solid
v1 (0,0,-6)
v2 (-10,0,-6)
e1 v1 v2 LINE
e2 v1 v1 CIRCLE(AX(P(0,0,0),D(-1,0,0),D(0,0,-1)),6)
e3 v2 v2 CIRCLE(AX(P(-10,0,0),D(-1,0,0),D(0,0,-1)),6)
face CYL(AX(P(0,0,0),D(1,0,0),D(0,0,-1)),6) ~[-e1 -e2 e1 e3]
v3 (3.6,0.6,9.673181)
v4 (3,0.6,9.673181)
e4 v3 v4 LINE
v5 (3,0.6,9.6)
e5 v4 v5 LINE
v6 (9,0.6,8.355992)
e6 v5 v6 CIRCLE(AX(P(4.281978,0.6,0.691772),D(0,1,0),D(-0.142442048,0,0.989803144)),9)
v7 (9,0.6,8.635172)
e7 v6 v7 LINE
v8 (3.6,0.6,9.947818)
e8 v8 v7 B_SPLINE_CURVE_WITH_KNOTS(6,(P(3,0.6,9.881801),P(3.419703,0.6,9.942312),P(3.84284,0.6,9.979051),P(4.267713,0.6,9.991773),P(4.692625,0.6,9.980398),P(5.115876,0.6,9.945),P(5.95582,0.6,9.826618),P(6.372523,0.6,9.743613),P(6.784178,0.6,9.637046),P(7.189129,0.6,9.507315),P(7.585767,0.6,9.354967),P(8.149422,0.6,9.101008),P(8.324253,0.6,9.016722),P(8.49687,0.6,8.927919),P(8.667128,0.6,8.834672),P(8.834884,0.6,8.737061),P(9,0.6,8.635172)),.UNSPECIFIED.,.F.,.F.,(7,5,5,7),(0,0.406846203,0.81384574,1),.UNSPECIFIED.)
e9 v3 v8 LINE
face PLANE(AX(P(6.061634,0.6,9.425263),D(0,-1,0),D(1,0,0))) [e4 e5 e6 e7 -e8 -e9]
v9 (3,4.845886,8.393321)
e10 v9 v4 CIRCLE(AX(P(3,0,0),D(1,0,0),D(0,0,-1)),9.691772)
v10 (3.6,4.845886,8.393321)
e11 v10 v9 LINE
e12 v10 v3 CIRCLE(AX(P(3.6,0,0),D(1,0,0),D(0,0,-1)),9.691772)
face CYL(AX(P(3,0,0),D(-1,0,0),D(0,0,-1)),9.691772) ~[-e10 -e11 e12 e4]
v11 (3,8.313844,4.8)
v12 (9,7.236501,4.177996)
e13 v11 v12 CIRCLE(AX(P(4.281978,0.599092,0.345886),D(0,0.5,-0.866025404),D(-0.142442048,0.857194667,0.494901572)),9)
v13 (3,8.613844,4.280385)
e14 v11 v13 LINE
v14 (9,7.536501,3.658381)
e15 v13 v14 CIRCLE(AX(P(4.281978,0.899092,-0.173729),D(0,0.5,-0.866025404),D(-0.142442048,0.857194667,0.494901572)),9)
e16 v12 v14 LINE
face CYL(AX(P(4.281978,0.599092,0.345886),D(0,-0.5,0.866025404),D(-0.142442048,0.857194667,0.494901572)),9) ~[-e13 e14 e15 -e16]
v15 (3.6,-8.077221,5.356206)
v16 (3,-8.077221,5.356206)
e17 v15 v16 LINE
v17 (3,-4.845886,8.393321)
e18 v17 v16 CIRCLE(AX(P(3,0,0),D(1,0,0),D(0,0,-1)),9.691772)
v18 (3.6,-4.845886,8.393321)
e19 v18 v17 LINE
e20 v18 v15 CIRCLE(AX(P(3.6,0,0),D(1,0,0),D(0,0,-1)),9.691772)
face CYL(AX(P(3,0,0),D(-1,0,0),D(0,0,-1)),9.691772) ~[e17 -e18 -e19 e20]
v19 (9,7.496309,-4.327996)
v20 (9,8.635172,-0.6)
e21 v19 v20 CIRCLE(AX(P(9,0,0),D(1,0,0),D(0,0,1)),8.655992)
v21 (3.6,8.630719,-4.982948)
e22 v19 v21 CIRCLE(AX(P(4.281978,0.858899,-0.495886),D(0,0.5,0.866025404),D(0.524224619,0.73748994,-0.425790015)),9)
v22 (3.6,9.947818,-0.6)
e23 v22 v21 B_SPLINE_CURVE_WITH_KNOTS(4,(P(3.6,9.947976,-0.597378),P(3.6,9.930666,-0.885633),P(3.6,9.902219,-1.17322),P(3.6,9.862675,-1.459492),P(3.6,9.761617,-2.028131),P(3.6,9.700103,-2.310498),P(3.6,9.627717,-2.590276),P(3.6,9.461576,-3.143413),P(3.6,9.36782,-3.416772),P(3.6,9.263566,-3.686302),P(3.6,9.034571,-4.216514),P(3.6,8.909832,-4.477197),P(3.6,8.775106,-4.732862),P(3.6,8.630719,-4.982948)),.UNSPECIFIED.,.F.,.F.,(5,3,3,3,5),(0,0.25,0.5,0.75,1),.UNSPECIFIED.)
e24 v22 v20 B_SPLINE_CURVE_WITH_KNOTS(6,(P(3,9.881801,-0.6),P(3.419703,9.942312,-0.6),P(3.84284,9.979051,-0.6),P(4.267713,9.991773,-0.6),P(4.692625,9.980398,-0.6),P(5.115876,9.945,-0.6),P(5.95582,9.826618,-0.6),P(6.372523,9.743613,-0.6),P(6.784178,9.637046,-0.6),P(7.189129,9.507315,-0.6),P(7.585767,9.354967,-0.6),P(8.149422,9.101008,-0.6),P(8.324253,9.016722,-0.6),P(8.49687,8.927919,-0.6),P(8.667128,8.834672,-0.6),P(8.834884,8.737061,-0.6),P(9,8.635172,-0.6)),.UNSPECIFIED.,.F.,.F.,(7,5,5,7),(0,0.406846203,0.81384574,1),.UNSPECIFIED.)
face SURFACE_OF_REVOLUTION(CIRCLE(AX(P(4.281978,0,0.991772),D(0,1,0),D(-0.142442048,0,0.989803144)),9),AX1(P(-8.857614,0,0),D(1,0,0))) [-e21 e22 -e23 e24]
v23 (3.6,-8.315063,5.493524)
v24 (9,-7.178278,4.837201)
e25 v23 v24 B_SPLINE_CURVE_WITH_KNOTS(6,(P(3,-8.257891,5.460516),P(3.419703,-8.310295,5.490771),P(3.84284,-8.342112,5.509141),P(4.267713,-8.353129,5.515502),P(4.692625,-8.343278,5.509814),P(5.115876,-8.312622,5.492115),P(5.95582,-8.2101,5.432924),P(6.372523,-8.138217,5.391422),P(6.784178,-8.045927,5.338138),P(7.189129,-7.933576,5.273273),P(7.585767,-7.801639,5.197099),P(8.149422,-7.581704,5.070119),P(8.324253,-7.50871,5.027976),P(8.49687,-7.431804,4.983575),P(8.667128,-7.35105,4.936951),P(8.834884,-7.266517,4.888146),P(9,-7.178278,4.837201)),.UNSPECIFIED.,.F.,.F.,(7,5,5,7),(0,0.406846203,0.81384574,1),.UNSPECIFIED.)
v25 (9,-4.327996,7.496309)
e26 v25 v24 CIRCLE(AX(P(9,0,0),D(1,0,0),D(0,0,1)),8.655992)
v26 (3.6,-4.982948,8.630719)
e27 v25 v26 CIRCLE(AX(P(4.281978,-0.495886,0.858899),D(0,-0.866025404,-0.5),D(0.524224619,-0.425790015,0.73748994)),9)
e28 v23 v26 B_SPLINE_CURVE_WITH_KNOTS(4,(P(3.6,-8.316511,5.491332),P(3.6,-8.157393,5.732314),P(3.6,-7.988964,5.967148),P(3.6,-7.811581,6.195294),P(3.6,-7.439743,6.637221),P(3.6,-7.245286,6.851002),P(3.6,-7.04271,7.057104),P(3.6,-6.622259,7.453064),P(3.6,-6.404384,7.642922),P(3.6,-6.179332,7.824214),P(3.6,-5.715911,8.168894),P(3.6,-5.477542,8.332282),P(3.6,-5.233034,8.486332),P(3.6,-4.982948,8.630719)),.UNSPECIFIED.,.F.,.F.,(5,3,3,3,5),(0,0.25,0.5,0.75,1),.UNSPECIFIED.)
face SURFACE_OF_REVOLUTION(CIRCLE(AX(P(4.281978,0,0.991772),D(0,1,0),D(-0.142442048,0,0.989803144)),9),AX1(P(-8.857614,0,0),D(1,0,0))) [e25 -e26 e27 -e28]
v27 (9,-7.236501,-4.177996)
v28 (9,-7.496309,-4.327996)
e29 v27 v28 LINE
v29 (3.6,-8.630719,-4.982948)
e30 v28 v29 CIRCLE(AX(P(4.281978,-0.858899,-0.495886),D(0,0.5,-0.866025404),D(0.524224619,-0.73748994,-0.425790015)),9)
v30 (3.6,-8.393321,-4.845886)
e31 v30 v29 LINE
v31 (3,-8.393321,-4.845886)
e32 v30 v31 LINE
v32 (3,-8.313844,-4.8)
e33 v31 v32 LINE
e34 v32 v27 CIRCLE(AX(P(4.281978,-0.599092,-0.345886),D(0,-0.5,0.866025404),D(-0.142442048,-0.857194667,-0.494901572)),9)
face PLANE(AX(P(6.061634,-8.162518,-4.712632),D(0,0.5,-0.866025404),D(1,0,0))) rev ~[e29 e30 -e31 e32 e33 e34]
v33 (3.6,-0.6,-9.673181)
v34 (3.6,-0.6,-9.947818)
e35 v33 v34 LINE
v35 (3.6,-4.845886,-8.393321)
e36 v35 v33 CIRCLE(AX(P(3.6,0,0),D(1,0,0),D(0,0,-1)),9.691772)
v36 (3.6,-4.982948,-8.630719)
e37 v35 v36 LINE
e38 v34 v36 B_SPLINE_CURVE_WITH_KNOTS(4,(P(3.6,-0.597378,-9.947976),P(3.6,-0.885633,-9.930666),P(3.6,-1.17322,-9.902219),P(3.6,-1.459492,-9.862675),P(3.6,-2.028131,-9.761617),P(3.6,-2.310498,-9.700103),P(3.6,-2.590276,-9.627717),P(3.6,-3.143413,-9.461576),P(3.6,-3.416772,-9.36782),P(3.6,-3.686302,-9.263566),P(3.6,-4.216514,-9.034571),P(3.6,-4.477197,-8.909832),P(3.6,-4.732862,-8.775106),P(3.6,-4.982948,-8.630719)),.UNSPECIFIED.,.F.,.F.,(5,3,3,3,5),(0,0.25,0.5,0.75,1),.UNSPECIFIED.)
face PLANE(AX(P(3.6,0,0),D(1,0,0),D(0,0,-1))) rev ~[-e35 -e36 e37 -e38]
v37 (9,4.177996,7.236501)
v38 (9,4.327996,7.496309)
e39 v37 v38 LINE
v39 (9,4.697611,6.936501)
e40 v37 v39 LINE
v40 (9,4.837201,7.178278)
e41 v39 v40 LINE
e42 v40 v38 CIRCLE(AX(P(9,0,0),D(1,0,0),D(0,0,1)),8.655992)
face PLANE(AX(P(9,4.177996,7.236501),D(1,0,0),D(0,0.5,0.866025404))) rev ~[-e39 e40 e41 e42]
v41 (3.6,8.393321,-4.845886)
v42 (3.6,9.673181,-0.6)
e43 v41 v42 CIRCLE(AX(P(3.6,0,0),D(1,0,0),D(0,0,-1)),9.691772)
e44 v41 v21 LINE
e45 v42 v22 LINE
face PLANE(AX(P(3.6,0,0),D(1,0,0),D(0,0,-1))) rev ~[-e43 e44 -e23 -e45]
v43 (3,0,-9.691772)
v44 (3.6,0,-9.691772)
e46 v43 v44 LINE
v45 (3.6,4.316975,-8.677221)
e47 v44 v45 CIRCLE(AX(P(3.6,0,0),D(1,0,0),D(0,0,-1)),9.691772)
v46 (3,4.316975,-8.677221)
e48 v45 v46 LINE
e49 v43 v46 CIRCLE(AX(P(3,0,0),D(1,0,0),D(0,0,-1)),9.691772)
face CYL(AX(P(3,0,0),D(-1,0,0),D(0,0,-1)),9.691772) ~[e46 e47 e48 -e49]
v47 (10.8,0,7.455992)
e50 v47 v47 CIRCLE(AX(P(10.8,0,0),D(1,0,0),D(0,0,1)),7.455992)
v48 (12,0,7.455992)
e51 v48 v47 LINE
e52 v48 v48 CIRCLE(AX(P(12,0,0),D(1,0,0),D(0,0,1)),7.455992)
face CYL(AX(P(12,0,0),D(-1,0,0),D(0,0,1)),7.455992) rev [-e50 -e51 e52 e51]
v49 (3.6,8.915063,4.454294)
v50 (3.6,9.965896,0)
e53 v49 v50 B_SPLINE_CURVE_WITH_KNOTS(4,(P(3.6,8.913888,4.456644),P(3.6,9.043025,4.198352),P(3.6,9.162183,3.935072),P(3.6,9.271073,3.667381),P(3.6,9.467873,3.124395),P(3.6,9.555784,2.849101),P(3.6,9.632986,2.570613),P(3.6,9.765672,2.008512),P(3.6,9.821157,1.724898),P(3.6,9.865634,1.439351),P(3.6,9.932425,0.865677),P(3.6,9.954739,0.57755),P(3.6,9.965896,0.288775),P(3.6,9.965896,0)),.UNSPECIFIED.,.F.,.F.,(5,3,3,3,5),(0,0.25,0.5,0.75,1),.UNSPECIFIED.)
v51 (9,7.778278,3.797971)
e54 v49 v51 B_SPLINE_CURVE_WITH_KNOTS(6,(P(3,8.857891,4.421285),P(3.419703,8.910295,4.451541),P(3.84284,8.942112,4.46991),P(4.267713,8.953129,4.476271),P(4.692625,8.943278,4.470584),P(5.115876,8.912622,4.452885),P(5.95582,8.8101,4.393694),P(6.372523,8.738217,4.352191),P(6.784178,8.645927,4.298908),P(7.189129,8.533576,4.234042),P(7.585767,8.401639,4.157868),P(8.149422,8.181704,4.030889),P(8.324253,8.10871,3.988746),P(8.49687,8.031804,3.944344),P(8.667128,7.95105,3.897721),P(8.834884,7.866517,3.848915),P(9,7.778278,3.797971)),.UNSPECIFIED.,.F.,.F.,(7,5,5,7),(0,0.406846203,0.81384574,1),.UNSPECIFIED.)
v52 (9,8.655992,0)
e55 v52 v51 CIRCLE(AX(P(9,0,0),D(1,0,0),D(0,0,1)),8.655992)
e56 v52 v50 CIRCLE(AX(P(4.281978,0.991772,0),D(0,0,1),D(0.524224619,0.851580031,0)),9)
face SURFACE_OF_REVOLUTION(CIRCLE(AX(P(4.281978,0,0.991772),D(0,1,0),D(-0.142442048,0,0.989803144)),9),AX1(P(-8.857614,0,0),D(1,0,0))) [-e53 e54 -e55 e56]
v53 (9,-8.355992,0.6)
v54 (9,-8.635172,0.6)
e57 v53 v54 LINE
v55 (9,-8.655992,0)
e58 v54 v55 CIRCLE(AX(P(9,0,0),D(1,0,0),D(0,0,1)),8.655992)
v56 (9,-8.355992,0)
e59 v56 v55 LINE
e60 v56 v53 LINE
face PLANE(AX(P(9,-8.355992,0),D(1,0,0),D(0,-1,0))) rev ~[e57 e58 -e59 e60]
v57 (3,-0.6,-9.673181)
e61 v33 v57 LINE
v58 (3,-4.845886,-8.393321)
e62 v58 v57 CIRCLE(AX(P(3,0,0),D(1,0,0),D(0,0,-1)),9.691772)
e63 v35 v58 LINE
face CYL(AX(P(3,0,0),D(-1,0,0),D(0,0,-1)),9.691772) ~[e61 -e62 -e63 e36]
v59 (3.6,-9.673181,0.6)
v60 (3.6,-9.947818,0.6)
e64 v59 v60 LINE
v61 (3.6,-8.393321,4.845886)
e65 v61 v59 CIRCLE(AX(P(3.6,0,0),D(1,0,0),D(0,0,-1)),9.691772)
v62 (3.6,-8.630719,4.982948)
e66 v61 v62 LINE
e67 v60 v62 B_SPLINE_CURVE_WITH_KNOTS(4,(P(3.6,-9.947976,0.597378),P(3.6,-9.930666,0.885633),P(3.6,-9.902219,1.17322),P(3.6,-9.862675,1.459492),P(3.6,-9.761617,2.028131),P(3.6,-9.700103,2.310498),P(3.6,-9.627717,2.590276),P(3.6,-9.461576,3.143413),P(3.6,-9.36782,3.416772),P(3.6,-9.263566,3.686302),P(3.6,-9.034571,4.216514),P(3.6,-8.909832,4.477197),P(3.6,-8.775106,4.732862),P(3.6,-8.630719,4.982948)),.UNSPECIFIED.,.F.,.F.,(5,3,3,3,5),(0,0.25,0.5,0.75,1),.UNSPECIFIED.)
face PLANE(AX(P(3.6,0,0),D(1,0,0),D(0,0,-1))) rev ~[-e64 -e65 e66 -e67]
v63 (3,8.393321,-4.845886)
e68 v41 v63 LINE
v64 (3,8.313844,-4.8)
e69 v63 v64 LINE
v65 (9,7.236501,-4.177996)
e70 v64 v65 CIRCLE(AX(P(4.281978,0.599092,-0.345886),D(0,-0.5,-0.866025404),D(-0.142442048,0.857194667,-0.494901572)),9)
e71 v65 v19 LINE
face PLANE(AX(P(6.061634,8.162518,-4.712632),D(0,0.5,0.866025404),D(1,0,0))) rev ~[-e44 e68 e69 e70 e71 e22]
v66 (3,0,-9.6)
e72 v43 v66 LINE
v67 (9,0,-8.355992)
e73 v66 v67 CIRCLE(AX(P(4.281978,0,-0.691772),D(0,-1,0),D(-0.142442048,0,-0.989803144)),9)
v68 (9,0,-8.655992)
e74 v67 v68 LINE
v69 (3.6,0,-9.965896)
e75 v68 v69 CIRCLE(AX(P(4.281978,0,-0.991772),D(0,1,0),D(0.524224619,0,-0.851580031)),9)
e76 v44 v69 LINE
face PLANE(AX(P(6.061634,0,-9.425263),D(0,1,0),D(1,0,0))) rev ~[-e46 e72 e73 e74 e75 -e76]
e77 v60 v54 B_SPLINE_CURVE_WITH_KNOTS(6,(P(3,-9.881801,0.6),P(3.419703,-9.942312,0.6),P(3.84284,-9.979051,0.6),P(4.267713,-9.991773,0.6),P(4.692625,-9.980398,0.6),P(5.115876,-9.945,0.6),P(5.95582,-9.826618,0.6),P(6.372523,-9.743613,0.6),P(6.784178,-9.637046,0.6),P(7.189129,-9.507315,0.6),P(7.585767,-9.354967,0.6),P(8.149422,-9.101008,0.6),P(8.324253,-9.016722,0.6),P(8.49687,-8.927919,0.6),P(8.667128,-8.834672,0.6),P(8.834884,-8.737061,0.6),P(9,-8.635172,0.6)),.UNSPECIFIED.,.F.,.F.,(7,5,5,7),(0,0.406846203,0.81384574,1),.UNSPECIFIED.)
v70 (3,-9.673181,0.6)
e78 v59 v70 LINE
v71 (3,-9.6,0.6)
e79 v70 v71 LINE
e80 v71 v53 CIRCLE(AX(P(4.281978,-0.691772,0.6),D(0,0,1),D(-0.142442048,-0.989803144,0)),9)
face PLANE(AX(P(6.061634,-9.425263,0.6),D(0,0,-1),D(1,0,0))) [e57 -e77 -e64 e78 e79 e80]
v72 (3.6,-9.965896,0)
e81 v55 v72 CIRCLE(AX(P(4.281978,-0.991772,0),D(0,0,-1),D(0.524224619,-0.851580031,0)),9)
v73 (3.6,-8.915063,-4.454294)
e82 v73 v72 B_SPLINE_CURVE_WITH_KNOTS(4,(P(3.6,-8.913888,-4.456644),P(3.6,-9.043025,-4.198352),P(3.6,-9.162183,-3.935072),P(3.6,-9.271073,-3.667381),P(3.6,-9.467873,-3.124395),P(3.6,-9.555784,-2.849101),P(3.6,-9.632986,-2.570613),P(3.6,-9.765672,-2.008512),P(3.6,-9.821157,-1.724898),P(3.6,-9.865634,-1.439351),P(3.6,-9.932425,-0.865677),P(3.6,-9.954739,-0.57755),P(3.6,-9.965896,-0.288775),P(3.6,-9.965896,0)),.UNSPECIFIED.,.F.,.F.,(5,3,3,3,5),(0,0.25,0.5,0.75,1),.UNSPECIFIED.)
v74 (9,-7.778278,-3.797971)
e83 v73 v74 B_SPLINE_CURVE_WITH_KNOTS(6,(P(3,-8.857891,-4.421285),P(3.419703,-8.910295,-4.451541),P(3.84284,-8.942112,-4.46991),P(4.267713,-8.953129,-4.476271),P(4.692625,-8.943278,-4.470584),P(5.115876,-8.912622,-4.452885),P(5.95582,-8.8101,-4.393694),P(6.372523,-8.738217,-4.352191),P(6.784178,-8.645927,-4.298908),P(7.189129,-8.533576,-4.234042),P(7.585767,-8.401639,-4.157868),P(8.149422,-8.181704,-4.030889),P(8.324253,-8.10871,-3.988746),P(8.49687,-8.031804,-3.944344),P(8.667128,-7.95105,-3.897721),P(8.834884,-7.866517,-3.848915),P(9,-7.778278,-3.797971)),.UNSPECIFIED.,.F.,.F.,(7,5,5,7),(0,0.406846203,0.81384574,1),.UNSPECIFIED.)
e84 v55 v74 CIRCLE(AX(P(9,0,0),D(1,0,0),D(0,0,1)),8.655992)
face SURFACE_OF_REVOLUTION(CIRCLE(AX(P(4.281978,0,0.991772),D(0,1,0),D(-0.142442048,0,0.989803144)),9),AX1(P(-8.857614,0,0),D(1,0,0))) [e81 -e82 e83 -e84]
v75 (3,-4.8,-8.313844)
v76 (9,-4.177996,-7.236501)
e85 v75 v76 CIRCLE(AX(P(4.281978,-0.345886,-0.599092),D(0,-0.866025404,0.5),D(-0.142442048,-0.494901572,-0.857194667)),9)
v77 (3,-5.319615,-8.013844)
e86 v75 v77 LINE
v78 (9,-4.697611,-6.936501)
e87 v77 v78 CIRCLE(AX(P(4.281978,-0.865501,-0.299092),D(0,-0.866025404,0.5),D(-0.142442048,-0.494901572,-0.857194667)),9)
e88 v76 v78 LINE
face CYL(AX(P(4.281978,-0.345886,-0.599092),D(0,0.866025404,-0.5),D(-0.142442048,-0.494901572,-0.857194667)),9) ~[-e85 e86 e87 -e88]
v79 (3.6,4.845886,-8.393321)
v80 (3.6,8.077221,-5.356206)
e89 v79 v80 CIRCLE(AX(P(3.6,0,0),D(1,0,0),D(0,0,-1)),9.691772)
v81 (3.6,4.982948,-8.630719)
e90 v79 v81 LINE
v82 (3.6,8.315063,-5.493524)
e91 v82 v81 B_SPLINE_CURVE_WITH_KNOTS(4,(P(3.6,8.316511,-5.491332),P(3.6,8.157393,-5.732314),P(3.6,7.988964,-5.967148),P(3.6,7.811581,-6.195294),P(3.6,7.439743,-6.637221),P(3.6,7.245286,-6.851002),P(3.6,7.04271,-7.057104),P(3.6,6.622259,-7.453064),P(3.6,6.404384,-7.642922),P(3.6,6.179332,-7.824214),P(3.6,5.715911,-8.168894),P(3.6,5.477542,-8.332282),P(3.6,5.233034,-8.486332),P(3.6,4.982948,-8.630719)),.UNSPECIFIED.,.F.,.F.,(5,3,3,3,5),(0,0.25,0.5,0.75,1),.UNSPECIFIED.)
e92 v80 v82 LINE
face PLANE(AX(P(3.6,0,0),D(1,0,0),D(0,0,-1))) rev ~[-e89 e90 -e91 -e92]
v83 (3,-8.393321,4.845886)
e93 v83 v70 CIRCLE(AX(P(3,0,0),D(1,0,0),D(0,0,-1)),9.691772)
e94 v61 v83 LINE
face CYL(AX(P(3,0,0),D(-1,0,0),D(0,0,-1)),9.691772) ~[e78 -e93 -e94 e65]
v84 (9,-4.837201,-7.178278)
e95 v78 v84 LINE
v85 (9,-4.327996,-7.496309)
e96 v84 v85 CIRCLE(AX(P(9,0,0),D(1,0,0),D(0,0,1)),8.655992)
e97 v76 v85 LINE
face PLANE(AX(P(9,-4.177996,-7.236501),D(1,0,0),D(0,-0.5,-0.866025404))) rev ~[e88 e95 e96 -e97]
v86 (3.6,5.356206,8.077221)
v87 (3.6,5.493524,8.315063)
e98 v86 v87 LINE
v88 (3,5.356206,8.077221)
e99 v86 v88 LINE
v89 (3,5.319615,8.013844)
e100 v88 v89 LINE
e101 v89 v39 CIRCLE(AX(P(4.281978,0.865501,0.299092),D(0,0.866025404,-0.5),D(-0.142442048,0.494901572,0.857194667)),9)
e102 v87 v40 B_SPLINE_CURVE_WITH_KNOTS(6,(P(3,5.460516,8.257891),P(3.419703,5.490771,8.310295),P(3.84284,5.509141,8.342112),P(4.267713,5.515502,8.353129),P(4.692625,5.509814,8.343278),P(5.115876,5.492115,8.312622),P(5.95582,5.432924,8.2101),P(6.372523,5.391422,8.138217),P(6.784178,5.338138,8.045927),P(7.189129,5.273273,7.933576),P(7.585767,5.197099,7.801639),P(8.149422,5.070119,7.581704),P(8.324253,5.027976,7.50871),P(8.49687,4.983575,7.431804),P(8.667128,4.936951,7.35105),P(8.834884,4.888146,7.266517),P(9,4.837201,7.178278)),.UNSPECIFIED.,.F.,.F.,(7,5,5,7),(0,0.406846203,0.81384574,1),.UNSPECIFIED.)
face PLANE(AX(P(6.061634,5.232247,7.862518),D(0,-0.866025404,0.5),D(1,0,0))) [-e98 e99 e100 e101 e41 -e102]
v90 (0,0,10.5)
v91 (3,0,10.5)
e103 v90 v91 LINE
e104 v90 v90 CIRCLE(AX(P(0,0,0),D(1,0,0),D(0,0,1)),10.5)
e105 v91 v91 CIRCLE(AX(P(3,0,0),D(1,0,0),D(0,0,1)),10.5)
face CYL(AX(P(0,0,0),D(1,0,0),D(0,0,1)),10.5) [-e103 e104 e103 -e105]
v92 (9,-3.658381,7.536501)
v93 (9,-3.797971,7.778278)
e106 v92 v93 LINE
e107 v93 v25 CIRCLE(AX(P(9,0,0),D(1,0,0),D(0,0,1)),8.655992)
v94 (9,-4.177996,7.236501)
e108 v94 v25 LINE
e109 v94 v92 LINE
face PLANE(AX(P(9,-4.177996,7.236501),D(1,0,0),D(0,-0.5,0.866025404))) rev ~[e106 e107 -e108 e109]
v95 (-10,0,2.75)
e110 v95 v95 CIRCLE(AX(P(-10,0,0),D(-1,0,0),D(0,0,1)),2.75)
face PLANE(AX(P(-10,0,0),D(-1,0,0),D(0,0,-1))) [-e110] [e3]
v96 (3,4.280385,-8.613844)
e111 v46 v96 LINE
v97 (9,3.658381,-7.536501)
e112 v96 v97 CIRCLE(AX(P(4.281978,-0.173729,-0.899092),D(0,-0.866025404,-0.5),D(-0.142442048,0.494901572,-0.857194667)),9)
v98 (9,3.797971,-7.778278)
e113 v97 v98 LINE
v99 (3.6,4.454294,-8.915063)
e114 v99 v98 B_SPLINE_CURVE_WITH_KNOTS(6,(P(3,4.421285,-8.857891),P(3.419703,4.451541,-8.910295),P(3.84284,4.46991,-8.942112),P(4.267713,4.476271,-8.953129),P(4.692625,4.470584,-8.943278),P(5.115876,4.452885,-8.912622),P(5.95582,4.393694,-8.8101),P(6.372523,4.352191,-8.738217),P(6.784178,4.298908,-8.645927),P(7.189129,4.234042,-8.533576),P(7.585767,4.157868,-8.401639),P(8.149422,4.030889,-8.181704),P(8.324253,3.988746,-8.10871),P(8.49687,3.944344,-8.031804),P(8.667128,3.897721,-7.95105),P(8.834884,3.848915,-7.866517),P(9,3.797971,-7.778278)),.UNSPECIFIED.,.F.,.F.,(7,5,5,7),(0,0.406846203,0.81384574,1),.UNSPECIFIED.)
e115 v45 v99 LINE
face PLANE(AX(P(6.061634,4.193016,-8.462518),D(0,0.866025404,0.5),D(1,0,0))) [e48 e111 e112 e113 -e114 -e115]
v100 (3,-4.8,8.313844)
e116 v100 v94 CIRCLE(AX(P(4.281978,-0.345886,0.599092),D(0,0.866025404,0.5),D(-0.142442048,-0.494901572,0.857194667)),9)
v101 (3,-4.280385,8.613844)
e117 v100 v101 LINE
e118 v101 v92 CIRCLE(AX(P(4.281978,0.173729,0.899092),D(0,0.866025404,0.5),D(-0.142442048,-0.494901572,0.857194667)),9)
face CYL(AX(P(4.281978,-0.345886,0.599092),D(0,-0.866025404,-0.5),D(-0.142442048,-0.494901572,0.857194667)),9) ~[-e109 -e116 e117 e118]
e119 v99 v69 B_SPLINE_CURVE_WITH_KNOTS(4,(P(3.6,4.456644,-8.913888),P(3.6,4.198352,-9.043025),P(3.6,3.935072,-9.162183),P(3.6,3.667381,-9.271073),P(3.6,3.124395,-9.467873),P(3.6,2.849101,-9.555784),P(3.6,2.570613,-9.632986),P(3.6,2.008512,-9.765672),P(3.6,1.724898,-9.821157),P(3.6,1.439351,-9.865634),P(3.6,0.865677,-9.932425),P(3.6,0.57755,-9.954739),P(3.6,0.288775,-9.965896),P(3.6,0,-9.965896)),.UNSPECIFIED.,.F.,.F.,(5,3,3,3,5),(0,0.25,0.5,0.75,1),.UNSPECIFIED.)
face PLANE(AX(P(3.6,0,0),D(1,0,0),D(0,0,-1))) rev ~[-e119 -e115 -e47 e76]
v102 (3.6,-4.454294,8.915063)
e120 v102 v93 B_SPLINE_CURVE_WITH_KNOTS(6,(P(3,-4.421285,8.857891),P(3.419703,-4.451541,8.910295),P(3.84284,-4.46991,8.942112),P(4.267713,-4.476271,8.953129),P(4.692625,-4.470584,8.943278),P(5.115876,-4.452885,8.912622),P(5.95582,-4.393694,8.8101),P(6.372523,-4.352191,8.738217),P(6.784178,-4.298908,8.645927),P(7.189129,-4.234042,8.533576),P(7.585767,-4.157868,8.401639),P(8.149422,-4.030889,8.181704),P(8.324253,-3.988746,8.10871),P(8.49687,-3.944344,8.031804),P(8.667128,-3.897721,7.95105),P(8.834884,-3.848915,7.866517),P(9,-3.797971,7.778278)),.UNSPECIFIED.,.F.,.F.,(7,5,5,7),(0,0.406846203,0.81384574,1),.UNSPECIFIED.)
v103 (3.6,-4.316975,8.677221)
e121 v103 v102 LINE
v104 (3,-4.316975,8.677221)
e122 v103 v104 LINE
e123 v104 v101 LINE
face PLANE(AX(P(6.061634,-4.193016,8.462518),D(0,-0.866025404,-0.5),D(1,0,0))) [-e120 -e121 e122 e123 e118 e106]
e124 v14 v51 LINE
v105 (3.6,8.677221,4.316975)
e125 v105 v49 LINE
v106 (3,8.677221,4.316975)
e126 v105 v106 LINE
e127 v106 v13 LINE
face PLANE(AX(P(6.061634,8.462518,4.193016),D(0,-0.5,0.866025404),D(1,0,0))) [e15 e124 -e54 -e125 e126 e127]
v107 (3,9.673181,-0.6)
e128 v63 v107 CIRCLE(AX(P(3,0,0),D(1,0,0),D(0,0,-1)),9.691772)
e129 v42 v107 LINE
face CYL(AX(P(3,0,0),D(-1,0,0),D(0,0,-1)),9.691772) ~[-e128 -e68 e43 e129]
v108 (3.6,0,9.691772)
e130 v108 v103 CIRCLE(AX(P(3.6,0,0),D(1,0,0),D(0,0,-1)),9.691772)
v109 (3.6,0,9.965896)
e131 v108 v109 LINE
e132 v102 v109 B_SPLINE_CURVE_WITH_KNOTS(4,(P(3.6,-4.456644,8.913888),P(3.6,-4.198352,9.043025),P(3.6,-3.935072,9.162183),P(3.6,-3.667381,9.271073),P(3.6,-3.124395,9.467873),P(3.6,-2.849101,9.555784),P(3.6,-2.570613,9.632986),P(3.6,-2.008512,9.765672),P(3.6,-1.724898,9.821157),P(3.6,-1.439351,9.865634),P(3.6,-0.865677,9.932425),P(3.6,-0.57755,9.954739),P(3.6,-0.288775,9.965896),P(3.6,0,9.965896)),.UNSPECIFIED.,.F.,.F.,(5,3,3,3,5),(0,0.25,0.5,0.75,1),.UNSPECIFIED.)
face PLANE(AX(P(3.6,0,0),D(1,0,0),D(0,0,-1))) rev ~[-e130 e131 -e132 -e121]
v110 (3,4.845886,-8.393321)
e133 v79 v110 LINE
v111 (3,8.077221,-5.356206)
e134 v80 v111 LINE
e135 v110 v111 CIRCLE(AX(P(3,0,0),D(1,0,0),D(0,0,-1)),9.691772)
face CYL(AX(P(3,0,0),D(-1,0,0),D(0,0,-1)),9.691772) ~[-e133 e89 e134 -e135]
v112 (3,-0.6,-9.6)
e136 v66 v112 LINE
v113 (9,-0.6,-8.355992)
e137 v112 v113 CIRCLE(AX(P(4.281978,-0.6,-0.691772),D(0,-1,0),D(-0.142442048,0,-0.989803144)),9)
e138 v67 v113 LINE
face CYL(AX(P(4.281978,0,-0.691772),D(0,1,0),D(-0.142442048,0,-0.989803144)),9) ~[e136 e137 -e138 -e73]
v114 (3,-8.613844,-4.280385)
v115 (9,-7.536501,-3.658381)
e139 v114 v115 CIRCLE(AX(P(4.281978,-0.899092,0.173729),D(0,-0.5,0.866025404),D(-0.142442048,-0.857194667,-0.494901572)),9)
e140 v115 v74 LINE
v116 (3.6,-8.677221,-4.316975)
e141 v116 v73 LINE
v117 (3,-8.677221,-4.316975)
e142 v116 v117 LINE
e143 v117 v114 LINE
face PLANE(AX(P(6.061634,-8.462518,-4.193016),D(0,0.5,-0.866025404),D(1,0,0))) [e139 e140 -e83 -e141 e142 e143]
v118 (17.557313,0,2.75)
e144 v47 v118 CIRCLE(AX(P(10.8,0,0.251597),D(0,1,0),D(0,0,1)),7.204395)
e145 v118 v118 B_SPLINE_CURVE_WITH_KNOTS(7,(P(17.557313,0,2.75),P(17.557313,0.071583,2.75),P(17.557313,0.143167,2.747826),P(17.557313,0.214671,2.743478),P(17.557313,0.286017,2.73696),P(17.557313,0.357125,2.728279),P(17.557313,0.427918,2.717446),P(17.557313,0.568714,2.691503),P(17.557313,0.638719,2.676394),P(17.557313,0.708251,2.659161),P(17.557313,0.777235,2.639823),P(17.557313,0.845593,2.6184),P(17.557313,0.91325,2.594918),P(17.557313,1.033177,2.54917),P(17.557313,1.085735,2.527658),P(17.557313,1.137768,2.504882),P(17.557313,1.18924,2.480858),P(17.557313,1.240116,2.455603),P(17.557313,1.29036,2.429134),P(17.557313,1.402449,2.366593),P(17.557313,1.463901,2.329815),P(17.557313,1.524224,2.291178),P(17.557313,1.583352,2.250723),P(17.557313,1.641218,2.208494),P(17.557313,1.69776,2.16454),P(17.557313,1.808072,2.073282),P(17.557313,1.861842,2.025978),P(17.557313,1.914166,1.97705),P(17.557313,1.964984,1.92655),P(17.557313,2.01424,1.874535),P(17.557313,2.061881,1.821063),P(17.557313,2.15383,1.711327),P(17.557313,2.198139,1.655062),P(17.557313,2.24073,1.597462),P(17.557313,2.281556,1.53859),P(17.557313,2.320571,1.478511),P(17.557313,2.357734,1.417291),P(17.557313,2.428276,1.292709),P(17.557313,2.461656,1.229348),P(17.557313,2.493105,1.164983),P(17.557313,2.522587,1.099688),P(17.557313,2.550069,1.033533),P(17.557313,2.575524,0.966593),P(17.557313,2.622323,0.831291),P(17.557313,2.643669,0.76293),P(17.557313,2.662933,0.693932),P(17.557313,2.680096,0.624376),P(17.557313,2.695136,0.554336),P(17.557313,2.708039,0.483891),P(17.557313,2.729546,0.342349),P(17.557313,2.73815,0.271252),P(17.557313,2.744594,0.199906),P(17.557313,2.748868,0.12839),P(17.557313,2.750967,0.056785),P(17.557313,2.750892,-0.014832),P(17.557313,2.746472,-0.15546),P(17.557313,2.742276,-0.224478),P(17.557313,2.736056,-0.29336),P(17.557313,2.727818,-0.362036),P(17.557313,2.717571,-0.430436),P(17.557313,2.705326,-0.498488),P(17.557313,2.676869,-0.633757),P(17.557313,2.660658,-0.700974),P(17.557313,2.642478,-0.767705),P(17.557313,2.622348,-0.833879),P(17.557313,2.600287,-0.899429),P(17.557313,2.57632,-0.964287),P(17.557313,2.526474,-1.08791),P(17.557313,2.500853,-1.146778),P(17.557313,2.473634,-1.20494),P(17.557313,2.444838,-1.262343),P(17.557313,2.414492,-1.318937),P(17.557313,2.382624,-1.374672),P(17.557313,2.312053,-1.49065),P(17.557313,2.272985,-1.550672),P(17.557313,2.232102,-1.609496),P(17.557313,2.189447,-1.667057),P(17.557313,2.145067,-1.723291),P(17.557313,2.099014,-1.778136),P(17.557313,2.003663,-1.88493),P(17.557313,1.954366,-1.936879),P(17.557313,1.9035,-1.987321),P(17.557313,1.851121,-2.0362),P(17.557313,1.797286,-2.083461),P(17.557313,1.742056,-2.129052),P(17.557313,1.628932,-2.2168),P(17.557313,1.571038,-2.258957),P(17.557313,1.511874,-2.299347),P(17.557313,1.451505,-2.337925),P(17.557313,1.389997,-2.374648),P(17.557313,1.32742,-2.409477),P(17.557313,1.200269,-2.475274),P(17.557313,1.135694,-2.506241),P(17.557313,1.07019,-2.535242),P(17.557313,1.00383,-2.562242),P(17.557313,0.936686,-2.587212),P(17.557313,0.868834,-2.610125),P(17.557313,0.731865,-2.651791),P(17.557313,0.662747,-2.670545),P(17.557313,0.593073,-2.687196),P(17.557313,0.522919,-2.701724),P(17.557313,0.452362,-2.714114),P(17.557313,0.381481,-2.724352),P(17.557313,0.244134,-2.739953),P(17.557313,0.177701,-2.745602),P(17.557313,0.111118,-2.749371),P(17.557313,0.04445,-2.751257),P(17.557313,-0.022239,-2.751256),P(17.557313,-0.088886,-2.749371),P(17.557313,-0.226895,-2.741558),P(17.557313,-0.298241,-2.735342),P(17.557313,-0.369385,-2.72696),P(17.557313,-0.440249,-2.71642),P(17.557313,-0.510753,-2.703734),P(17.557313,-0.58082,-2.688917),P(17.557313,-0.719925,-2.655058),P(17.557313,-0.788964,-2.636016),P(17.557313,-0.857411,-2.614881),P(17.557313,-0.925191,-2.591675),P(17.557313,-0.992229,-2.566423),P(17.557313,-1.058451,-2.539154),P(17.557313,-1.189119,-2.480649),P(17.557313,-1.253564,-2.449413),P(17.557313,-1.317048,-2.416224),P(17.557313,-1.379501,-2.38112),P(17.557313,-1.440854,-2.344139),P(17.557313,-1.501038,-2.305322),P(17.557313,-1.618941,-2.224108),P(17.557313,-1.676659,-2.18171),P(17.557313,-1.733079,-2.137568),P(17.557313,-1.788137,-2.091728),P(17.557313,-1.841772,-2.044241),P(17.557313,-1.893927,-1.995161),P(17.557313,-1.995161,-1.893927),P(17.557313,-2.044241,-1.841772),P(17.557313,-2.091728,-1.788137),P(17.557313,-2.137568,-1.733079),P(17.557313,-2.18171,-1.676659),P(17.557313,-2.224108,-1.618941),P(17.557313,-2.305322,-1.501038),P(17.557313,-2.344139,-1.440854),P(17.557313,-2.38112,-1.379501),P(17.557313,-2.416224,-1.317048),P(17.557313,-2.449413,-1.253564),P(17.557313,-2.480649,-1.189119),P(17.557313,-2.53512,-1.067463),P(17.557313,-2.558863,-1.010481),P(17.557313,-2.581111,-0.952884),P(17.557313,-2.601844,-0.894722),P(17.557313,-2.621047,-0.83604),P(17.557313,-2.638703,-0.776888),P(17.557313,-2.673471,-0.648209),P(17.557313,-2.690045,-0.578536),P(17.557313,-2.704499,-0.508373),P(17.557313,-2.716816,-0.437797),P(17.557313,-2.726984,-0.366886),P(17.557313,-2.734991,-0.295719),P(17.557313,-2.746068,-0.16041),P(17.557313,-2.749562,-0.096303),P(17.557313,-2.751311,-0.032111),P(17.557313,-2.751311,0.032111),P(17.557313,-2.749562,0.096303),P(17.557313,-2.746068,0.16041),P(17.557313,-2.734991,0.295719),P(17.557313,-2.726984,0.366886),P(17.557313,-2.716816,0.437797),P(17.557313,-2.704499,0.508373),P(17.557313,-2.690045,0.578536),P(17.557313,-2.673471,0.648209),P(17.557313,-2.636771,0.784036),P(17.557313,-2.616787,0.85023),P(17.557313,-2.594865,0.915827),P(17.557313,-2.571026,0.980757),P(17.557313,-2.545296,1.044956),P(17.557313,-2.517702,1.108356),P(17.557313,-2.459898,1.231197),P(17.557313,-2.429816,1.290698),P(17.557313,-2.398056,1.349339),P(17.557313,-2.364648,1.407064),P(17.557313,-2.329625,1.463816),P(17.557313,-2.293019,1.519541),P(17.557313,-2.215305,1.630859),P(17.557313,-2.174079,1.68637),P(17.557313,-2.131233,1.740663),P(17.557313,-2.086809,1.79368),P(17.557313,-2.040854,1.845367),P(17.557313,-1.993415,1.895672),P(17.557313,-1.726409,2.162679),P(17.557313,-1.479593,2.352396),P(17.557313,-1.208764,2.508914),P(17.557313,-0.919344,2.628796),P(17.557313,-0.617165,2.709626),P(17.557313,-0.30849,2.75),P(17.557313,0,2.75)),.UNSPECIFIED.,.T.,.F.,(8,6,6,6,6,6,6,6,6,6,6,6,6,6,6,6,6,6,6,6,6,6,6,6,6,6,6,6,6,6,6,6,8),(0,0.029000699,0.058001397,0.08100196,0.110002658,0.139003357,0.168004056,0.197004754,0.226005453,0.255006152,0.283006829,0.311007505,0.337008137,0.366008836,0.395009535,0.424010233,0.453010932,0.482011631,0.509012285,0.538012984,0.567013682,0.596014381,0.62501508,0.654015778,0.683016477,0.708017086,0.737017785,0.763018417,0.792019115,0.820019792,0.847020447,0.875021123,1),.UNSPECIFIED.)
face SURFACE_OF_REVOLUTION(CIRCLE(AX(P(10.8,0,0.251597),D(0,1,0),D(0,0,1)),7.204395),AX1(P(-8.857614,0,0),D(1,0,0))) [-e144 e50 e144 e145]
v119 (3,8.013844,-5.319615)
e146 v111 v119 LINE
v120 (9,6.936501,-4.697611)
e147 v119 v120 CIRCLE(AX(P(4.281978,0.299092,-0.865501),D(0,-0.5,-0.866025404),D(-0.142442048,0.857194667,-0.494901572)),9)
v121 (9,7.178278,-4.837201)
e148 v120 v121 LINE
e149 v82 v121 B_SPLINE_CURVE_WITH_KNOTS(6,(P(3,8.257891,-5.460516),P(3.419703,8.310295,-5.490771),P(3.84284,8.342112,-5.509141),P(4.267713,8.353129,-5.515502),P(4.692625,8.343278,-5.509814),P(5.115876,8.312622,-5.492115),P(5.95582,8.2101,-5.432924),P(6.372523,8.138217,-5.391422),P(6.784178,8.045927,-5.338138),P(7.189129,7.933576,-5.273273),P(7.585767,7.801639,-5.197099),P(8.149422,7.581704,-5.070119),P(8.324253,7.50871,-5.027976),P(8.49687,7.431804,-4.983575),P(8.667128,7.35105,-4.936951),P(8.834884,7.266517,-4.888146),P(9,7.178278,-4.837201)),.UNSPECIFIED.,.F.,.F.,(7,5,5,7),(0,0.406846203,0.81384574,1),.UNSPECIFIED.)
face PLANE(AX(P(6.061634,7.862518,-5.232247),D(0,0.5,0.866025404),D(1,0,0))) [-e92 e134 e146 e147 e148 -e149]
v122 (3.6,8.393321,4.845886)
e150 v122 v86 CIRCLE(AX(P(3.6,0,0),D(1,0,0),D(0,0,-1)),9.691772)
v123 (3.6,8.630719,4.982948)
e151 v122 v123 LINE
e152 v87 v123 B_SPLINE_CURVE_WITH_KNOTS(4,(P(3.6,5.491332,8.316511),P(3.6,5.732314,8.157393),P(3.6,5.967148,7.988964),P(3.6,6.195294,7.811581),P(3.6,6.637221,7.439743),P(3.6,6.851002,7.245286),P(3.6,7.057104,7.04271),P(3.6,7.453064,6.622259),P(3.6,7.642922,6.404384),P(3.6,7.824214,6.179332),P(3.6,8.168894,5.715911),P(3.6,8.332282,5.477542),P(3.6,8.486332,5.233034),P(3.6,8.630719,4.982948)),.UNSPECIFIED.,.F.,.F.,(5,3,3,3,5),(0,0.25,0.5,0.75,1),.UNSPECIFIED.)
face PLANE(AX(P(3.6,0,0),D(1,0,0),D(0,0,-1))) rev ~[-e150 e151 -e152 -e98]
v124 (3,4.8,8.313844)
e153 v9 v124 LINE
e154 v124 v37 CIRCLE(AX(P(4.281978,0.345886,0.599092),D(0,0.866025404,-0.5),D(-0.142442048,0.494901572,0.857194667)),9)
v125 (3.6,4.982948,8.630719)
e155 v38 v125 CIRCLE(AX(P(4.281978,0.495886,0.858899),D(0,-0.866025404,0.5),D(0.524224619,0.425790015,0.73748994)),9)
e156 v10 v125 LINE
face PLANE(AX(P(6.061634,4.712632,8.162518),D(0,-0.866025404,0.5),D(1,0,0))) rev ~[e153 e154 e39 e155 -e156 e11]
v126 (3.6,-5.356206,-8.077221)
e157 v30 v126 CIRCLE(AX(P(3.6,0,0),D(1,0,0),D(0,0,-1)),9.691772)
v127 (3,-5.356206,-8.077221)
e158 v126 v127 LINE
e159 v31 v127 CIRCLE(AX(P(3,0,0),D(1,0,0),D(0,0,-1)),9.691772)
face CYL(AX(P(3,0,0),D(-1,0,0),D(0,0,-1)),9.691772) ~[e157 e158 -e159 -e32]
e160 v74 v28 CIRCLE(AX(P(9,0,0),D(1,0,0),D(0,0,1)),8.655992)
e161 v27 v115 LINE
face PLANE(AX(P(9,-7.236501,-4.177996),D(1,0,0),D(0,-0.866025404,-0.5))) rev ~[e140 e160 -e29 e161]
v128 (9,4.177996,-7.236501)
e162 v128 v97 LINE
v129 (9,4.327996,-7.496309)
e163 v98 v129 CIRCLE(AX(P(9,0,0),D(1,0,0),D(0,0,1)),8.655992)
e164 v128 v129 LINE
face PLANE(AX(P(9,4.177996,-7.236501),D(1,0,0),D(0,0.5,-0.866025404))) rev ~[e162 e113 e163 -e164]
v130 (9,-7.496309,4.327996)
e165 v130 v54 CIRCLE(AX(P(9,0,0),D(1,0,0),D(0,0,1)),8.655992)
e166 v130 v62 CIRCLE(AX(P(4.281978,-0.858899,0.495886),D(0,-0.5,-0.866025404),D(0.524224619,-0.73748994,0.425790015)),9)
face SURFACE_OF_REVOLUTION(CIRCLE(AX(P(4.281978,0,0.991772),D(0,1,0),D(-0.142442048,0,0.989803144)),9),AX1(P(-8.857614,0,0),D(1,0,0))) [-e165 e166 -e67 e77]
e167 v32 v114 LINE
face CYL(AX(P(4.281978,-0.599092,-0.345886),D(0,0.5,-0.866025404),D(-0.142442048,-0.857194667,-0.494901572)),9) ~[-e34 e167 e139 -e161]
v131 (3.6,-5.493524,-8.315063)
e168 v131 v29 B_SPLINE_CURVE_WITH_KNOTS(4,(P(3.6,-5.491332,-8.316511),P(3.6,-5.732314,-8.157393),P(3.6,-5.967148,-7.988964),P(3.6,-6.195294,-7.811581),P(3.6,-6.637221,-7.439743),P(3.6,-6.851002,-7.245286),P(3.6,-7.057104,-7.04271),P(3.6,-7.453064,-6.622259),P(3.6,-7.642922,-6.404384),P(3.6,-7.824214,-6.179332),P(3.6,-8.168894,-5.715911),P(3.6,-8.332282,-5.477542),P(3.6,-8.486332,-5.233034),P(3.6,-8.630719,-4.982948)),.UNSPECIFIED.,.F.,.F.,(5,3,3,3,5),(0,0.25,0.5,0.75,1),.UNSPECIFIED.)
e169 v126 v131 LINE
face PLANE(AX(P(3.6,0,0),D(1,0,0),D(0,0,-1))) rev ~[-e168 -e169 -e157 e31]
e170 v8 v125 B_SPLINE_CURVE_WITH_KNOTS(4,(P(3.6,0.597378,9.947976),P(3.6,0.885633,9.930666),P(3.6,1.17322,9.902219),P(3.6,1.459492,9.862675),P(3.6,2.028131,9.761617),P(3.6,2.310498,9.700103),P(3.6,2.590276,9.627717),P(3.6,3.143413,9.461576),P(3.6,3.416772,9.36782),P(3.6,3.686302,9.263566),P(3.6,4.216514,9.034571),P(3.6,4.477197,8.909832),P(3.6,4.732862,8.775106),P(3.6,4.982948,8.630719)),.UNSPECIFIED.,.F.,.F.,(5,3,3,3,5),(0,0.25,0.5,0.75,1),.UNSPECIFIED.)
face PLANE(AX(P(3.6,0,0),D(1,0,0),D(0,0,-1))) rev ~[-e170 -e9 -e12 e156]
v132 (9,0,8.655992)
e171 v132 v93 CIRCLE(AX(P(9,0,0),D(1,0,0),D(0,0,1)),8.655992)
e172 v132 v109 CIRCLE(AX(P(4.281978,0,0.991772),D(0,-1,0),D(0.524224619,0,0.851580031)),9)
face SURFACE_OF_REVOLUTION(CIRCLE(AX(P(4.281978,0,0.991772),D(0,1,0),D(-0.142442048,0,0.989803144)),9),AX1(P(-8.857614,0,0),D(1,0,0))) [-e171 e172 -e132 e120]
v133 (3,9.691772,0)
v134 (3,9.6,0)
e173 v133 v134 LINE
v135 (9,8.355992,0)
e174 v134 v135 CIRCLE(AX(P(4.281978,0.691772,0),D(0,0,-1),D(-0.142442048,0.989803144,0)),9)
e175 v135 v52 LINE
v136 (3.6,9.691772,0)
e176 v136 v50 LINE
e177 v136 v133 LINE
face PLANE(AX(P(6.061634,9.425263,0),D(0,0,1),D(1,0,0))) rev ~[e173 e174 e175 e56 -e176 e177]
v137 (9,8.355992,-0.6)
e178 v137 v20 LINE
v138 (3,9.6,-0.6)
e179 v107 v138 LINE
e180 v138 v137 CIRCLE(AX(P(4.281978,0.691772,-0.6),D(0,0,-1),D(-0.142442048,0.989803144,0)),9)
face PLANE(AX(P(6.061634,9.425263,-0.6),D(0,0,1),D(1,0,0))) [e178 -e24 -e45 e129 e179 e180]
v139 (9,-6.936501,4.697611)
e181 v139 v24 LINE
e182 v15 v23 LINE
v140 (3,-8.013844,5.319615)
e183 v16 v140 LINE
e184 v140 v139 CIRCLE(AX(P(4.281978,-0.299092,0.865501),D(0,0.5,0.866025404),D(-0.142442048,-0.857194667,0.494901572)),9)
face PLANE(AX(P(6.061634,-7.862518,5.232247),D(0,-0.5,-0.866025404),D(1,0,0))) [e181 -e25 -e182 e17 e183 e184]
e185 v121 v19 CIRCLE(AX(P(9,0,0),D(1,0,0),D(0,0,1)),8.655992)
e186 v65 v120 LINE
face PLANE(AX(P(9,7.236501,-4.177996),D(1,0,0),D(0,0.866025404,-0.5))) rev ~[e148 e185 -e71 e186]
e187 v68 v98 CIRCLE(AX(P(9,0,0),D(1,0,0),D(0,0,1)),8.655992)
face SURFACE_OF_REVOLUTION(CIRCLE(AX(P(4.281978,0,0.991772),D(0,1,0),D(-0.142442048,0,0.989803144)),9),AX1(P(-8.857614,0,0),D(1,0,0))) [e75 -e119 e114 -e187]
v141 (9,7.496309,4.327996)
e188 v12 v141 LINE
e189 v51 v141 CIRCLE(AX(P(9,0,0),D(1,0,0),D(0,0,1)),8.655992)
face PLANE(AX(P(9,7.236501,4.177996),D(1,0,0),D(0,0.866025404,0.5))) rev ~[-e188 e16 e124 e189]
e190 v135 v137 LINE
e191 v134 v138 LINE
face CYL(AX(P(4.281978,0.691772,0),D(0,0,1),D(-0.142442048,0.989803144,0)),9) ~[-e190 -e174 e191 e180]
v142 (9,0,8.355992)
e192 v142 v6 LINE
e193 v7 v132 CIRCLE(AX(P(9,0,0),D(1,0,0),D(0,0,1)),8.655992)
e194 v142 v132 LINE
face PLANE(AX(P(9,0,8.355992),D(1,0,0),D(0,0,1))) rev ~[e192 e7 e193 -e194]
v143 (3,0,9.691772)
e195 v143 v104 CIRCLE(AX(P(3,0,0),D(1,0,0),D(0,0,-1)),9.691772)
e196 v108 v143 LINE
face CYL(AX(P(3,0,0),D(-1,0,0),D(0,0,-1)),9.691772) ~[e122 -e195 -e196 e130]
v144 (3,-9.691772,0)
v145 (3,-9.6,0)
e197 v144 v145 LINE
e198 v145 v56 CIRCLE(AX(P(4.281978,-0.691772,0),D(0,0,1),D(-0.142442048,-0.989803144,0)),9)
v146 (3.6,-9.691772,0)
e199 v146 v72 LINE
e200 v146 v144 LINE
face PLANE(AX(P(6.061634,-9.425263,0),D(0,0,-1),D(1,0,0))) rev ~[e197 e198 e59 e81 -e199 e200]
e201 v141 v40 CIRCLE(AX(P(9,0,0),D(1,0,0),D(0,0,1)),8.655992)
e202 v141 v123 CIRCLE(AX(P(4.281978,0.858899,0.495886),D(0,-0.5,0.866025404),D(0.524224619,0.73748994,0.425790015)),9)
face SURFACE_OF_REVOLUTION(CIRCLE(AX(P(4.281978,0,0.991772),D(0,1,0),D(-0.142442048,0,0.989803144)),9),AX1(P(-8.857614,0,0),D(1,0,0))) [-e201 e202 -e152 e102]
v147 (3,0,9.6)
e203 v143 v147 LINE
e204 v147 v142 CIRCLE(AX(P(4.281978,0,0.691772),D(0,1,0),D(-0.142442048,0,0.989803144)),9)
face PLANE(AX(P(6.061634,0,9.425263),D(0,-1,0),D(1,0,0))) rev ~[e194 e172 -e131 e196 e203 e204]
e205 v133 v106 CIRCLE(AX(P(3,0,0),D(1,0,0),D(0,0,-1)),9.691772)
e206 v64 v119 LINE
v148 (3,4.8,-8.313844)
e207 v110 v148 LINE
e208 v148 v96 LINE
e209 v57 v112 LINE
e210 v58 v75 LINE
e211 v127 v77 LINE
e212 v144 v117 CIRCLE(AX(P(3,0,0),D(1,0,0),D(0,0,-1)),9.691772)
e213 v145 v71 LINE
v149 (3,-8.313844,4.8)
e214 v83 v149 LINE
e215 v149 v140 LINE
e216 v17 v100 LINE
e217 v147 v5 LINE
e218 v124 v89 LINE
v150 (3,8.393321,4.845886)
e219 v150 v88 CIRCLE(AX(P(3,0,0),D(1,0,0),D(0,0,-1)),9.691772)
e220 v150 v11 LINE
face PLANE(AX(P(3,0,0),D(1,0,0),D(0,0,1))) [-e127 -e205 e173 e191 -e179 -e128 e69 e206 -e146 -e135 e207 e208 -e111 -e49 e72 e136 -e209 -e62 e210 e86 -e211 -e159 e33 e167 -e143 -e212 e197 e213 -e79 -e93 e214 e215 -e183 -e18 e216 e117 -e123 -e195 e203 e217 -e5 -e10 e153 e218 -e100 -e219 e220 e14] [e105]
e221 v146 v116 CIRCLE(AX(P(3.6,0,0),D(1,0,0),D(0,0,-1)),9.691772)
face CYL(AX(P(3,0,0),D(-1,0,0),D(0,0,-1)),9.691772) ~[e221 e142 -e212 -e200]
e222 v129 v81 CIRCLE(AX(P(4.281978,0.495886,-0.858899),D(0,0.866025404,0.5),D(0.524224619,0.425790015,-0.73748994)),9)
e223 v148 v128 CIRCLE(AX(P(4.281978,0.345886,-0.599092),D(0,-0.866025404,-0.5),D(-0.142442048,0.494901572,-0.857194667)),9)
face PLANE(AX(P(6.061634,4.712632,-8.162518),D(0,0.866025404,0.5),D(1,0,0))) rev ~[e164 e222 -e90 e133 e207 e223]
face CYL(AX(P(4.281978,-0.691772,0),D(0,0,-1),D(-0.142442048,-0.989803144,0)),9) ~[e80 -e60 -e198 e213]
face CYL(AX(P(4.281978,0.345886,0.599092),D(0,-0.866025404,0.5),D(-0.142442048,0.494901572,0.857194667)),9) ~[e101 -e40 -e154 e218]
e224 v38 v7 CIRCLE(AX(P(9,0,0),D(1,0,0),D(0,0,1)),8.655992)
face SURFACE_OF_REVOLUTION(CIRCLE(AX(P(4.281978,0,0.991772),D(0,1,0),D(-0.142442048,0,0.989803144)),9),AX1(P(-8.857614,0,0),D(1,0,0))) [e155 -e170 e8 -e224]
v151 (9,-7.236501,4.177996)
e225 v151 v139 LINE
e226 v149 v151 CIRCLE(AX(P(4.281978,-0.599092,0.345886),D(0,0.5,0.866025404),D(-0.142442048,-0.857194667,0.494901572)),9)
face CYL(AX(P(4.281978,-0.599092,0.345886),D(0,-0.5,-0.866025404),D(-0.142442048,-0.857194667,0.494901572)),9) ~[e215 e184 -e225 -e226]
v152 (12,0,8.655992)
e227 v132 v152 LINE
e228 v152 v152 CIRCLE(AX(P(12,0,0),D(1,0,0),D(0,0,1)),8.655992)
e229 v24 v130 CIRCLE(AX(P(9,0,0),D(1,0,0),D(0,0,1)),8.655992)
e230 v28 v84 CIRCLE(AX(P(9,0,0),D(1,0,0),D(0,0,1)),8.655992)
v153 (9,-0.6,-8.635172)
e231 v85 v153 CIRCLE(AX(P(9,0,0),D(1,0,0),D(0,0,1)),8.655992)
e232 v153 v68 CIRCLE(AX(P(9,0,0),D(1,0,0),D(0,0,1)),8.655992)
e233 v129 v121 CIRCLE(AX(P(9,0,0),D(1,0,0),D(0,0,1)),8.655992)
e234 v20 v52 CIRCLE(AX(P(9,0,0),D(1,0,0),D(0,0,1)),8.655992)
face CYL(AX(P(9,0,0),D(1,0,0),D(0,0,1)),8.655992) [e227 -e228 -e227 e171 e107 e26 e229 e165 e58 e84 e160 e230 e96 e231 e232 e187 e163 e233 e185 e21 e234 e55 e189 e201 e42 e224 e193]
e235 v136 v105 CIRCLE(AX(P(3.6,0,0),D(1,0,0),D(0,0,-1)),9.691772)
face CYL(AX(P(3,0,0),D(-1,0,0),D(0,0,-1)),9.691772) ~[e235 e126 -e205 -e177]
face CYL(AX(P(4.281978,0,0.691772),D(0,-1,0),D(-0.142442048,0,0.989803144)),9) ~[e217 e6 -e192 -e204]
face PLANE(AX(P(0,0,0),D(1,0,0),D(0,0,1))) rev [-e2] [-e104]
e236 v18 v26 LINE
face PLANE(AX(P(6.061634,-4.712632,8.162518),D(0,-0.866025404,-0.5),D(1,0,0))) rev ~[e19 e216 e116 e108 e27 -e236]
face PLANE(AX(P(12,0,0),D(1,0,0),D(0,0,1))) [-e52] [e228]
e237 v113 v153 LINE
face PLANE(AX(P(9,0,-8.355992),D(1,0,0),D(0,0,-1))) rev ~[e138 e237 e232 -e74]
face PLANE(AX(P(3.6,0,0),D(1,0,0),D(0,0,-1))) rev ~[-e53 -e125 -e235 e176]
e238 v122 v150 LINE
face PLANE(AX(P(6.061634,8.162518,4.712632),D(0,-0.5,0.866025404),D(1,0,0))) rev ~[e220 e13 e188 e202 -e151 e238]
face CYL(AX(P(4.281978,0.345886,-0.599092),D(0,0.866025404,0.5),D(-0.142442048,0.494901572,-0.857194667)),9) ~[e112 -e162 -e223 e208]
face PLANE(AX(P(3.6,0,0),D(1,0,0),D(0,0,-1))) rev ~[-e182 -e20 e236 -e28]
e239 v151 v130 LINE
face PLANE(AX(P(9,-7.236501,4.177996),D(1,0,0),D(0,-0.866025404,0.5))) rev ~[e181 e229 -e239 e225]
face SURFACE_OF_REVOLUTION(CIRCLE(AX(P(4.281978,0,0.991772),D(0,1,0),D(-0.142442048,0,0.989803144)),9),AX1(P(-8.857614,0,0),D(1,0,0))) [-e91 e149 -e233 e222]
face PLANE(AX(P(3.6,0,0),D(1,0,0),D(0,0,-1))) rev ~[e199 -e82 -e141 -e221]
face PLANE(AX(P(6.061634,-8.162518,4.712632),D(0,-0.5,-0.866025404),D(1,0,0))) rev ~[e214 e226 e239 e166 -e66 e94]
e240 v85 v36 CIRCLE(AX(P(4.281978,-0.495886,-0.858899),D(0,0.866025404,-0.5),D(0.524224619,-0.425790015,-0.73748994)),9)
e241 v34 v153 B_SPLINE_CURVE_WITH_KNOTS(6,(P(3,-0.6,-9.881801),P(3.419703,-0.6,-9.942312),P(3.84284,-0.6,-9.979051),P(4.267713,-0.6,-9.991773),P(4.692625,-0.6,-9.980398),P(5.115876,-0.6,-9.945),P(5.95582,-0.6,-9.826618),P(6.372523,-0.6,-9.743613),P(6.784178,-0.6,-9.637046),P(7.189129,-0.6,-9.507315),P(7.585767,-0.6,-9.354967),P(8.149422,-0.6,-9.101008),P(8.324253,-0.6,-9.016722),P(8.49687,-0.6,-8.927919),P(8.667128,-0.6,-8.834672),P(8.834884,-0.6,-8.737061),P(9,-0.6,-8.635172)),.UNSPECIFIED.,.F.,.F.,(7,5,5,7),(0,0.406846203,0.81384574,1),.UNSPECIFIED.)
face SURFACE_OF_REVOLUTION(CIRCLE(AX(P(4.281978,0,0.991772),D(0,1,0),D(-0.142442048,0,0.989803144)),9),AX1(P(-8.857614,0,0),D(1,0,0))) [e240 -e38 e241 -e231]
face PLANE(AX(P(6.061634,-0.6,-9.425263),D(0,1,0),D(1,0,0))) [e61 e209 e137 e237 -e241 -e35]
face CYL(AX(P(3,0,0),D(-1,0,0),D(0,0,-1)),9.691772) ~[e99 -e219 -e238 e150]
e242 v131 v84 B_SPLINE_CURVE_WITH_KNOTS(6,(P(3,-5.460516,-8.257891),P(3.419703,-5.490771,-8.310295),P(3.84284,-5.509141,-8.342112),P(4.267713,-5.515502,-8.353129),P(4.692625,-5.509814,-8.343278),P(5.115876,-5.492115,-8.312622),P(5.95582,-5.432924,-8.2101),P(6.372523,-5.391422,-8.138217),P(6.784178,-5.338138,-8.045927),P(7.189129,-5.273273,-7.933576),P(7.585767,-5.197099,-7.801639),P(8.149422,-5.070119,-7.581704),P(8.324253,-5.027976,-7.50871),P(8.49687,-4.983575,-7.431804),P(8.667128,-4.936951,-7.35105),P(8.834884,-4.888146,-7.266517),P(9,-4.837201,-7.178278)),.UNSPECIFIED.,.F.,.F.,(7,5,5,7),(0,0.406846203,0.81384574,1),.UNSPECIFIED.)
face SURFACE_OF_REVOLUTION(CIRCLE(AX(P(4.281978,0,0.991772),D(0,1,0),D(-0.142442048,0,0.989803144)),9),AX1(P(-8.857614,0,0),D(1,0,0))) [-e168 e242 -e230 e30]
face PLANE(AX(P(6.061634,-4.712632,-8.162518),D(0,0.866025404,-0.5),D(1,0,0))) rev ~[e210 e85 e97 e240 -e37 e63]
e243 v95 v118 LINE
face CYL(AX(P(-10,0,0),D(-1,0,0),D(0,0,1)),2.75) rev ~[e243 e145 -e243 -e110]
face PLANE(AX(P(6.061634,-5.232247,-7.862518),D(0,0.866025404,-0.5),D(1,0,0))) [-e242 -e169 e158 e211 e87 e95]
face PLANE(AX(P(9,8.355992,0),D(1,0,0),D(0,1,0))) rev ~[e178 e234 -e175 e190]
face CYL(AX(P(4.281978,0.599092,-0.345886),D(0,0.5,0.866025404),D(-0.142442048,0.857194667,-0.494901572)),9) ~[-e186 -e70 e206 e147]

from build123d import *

# Parameters (mm, degrees)
ENL_V_MAT_EXTRU_2_DEPTH      = 1
R_P_TITION_CIRCULAIRE1_COUNT = 12
ESQUISSE9_R                  = 16.652952846
ESQUISSE9_R_2                = 16.152952846
ENL_V_MAT_EXTRU_3_DEPTH      = 1
ECHELLE3_SCALE               = 0.6
ESQUISSE12_R                 = 6
BOSS_EXTRU_2_DEPTH           = 10
ESQUISSE13_R                 = 2.75
ENL_V_MAT_EXTRU_5_DEPTH      = 32.69773054


with BuildPart() as part:
    # Esquisse3 → Révolution3 (revolve)
    with BuildSketch(Plane.XY, mode=Mode.PRIVATE) as r_volution3_sk:
        with BuildLine():
            Line((5, 17.5), (5, 16.5))
            ThreePointArc((5, 16.5), (10.181885267, 16.340581134), (15, 14.426653308))
            Line((15, 14.426653308), (20, 14.426653308))
            Line((20, 14.426653308), (20, 12.426653308))
            Line((20, 12.426653308), (18, 12.426653308))
            ThreePointArc((18, 12.426653308), (26.637443378, 8.760216774), (30, 0))
            Line((30, 0), (0, 0))
            Line((0, 0), (0, 17.5))
            Line((0, 17.5), (5, 17.5))
        make_face()
    revolve(r_volution3_sk.sketch.rotate(Axis((-14.762690298, 0, 0), (1, 0, 0)), 90), axis=Axis((-14.762690298, 0, 0), (1, 0, 0)))

    # Esquisse8 → Enlèv. mat.-Extru.2 (cut)
    with BuildSketch(Plane(origin=(0, 0, 0), x_dir=(1, 0, 0), z_dir=(0, 1, 0))):
        with BuildLine():
            Line((5, 16.5), (5, 16))
            ThreePointArc((5, 16), (10.181885267, 15.840581134), (15, 13.926653308))
            Line((15, 13.926653308), (15, 14.426653308))
            ThreePointArc((15, 14.426653308), (10.181885267, 16.340581134), (5, 16.5))
        make_face()
    enl_v_mat_extru_2 = extrude(amount=-ENL_V_MAT_EXTRU_2_DEPTH, mode=Mode.SUBTRACT)

    # Répétition circulaire1: Enlèv. mat.-Extru.2 ×12 about axis
    r_p_tition_circulaire1_axis = Axis((0, 0, 0), (1, 0, 0))
    for i in range(1, R_P_TITION_CIRCULAIRE1_COUNT):
        add(enl_v_mat_extru_2.rotate(r_p_tition_circulaire1_axis, i * 360 / R_P_TITION_CIRCULAIRE1_COUNT), mode=Mode.SUBTRACT)

    # Esquisse9 → Enlèv. mat.-Extru.3 (cut)
    with BuildSketch(Plane(origin=(5, 0, 0), x_dir=(0, 0, -1), z_dir=(1, 0, 0))):
        Circle(ESQUISSE9_R)
        Circle(ESQUISSE9_R_2, mode=Mode.SUBTRACT)
    extrude(amount=ENL_V_MAT_EXTRU_3_DEPTH, mode=Mode.SUBTRACT)


with BuildPart() as part_1:
    # Echelle3: scaled about (0, 0, 0)
    add(part.part.scale(ECHELLE3_SCALE))

    # Esquisse12 → Boss.-Extru.2 (add)
    with BuildSketch(Plane.ZY):
        with Locations(Location((0, 0, 0), (0, 0, 180))):
            Circle(ESQUISSE12_R)
    extrude(amount=BOSS_EXTRU_2_DEPTH)

    # Esquisse13 → Enlèv. mat.-Extru.5 (cut, through all)
    with BuildSketch(Plane.ZY.offset(10)):
        Circle(ESQUISSE13_R)
    extrude(amount=-ENL_V_MAT_EXTRU_5_DEPTH, mode=Mode.SUBTRACT)


solid = part_1.part
